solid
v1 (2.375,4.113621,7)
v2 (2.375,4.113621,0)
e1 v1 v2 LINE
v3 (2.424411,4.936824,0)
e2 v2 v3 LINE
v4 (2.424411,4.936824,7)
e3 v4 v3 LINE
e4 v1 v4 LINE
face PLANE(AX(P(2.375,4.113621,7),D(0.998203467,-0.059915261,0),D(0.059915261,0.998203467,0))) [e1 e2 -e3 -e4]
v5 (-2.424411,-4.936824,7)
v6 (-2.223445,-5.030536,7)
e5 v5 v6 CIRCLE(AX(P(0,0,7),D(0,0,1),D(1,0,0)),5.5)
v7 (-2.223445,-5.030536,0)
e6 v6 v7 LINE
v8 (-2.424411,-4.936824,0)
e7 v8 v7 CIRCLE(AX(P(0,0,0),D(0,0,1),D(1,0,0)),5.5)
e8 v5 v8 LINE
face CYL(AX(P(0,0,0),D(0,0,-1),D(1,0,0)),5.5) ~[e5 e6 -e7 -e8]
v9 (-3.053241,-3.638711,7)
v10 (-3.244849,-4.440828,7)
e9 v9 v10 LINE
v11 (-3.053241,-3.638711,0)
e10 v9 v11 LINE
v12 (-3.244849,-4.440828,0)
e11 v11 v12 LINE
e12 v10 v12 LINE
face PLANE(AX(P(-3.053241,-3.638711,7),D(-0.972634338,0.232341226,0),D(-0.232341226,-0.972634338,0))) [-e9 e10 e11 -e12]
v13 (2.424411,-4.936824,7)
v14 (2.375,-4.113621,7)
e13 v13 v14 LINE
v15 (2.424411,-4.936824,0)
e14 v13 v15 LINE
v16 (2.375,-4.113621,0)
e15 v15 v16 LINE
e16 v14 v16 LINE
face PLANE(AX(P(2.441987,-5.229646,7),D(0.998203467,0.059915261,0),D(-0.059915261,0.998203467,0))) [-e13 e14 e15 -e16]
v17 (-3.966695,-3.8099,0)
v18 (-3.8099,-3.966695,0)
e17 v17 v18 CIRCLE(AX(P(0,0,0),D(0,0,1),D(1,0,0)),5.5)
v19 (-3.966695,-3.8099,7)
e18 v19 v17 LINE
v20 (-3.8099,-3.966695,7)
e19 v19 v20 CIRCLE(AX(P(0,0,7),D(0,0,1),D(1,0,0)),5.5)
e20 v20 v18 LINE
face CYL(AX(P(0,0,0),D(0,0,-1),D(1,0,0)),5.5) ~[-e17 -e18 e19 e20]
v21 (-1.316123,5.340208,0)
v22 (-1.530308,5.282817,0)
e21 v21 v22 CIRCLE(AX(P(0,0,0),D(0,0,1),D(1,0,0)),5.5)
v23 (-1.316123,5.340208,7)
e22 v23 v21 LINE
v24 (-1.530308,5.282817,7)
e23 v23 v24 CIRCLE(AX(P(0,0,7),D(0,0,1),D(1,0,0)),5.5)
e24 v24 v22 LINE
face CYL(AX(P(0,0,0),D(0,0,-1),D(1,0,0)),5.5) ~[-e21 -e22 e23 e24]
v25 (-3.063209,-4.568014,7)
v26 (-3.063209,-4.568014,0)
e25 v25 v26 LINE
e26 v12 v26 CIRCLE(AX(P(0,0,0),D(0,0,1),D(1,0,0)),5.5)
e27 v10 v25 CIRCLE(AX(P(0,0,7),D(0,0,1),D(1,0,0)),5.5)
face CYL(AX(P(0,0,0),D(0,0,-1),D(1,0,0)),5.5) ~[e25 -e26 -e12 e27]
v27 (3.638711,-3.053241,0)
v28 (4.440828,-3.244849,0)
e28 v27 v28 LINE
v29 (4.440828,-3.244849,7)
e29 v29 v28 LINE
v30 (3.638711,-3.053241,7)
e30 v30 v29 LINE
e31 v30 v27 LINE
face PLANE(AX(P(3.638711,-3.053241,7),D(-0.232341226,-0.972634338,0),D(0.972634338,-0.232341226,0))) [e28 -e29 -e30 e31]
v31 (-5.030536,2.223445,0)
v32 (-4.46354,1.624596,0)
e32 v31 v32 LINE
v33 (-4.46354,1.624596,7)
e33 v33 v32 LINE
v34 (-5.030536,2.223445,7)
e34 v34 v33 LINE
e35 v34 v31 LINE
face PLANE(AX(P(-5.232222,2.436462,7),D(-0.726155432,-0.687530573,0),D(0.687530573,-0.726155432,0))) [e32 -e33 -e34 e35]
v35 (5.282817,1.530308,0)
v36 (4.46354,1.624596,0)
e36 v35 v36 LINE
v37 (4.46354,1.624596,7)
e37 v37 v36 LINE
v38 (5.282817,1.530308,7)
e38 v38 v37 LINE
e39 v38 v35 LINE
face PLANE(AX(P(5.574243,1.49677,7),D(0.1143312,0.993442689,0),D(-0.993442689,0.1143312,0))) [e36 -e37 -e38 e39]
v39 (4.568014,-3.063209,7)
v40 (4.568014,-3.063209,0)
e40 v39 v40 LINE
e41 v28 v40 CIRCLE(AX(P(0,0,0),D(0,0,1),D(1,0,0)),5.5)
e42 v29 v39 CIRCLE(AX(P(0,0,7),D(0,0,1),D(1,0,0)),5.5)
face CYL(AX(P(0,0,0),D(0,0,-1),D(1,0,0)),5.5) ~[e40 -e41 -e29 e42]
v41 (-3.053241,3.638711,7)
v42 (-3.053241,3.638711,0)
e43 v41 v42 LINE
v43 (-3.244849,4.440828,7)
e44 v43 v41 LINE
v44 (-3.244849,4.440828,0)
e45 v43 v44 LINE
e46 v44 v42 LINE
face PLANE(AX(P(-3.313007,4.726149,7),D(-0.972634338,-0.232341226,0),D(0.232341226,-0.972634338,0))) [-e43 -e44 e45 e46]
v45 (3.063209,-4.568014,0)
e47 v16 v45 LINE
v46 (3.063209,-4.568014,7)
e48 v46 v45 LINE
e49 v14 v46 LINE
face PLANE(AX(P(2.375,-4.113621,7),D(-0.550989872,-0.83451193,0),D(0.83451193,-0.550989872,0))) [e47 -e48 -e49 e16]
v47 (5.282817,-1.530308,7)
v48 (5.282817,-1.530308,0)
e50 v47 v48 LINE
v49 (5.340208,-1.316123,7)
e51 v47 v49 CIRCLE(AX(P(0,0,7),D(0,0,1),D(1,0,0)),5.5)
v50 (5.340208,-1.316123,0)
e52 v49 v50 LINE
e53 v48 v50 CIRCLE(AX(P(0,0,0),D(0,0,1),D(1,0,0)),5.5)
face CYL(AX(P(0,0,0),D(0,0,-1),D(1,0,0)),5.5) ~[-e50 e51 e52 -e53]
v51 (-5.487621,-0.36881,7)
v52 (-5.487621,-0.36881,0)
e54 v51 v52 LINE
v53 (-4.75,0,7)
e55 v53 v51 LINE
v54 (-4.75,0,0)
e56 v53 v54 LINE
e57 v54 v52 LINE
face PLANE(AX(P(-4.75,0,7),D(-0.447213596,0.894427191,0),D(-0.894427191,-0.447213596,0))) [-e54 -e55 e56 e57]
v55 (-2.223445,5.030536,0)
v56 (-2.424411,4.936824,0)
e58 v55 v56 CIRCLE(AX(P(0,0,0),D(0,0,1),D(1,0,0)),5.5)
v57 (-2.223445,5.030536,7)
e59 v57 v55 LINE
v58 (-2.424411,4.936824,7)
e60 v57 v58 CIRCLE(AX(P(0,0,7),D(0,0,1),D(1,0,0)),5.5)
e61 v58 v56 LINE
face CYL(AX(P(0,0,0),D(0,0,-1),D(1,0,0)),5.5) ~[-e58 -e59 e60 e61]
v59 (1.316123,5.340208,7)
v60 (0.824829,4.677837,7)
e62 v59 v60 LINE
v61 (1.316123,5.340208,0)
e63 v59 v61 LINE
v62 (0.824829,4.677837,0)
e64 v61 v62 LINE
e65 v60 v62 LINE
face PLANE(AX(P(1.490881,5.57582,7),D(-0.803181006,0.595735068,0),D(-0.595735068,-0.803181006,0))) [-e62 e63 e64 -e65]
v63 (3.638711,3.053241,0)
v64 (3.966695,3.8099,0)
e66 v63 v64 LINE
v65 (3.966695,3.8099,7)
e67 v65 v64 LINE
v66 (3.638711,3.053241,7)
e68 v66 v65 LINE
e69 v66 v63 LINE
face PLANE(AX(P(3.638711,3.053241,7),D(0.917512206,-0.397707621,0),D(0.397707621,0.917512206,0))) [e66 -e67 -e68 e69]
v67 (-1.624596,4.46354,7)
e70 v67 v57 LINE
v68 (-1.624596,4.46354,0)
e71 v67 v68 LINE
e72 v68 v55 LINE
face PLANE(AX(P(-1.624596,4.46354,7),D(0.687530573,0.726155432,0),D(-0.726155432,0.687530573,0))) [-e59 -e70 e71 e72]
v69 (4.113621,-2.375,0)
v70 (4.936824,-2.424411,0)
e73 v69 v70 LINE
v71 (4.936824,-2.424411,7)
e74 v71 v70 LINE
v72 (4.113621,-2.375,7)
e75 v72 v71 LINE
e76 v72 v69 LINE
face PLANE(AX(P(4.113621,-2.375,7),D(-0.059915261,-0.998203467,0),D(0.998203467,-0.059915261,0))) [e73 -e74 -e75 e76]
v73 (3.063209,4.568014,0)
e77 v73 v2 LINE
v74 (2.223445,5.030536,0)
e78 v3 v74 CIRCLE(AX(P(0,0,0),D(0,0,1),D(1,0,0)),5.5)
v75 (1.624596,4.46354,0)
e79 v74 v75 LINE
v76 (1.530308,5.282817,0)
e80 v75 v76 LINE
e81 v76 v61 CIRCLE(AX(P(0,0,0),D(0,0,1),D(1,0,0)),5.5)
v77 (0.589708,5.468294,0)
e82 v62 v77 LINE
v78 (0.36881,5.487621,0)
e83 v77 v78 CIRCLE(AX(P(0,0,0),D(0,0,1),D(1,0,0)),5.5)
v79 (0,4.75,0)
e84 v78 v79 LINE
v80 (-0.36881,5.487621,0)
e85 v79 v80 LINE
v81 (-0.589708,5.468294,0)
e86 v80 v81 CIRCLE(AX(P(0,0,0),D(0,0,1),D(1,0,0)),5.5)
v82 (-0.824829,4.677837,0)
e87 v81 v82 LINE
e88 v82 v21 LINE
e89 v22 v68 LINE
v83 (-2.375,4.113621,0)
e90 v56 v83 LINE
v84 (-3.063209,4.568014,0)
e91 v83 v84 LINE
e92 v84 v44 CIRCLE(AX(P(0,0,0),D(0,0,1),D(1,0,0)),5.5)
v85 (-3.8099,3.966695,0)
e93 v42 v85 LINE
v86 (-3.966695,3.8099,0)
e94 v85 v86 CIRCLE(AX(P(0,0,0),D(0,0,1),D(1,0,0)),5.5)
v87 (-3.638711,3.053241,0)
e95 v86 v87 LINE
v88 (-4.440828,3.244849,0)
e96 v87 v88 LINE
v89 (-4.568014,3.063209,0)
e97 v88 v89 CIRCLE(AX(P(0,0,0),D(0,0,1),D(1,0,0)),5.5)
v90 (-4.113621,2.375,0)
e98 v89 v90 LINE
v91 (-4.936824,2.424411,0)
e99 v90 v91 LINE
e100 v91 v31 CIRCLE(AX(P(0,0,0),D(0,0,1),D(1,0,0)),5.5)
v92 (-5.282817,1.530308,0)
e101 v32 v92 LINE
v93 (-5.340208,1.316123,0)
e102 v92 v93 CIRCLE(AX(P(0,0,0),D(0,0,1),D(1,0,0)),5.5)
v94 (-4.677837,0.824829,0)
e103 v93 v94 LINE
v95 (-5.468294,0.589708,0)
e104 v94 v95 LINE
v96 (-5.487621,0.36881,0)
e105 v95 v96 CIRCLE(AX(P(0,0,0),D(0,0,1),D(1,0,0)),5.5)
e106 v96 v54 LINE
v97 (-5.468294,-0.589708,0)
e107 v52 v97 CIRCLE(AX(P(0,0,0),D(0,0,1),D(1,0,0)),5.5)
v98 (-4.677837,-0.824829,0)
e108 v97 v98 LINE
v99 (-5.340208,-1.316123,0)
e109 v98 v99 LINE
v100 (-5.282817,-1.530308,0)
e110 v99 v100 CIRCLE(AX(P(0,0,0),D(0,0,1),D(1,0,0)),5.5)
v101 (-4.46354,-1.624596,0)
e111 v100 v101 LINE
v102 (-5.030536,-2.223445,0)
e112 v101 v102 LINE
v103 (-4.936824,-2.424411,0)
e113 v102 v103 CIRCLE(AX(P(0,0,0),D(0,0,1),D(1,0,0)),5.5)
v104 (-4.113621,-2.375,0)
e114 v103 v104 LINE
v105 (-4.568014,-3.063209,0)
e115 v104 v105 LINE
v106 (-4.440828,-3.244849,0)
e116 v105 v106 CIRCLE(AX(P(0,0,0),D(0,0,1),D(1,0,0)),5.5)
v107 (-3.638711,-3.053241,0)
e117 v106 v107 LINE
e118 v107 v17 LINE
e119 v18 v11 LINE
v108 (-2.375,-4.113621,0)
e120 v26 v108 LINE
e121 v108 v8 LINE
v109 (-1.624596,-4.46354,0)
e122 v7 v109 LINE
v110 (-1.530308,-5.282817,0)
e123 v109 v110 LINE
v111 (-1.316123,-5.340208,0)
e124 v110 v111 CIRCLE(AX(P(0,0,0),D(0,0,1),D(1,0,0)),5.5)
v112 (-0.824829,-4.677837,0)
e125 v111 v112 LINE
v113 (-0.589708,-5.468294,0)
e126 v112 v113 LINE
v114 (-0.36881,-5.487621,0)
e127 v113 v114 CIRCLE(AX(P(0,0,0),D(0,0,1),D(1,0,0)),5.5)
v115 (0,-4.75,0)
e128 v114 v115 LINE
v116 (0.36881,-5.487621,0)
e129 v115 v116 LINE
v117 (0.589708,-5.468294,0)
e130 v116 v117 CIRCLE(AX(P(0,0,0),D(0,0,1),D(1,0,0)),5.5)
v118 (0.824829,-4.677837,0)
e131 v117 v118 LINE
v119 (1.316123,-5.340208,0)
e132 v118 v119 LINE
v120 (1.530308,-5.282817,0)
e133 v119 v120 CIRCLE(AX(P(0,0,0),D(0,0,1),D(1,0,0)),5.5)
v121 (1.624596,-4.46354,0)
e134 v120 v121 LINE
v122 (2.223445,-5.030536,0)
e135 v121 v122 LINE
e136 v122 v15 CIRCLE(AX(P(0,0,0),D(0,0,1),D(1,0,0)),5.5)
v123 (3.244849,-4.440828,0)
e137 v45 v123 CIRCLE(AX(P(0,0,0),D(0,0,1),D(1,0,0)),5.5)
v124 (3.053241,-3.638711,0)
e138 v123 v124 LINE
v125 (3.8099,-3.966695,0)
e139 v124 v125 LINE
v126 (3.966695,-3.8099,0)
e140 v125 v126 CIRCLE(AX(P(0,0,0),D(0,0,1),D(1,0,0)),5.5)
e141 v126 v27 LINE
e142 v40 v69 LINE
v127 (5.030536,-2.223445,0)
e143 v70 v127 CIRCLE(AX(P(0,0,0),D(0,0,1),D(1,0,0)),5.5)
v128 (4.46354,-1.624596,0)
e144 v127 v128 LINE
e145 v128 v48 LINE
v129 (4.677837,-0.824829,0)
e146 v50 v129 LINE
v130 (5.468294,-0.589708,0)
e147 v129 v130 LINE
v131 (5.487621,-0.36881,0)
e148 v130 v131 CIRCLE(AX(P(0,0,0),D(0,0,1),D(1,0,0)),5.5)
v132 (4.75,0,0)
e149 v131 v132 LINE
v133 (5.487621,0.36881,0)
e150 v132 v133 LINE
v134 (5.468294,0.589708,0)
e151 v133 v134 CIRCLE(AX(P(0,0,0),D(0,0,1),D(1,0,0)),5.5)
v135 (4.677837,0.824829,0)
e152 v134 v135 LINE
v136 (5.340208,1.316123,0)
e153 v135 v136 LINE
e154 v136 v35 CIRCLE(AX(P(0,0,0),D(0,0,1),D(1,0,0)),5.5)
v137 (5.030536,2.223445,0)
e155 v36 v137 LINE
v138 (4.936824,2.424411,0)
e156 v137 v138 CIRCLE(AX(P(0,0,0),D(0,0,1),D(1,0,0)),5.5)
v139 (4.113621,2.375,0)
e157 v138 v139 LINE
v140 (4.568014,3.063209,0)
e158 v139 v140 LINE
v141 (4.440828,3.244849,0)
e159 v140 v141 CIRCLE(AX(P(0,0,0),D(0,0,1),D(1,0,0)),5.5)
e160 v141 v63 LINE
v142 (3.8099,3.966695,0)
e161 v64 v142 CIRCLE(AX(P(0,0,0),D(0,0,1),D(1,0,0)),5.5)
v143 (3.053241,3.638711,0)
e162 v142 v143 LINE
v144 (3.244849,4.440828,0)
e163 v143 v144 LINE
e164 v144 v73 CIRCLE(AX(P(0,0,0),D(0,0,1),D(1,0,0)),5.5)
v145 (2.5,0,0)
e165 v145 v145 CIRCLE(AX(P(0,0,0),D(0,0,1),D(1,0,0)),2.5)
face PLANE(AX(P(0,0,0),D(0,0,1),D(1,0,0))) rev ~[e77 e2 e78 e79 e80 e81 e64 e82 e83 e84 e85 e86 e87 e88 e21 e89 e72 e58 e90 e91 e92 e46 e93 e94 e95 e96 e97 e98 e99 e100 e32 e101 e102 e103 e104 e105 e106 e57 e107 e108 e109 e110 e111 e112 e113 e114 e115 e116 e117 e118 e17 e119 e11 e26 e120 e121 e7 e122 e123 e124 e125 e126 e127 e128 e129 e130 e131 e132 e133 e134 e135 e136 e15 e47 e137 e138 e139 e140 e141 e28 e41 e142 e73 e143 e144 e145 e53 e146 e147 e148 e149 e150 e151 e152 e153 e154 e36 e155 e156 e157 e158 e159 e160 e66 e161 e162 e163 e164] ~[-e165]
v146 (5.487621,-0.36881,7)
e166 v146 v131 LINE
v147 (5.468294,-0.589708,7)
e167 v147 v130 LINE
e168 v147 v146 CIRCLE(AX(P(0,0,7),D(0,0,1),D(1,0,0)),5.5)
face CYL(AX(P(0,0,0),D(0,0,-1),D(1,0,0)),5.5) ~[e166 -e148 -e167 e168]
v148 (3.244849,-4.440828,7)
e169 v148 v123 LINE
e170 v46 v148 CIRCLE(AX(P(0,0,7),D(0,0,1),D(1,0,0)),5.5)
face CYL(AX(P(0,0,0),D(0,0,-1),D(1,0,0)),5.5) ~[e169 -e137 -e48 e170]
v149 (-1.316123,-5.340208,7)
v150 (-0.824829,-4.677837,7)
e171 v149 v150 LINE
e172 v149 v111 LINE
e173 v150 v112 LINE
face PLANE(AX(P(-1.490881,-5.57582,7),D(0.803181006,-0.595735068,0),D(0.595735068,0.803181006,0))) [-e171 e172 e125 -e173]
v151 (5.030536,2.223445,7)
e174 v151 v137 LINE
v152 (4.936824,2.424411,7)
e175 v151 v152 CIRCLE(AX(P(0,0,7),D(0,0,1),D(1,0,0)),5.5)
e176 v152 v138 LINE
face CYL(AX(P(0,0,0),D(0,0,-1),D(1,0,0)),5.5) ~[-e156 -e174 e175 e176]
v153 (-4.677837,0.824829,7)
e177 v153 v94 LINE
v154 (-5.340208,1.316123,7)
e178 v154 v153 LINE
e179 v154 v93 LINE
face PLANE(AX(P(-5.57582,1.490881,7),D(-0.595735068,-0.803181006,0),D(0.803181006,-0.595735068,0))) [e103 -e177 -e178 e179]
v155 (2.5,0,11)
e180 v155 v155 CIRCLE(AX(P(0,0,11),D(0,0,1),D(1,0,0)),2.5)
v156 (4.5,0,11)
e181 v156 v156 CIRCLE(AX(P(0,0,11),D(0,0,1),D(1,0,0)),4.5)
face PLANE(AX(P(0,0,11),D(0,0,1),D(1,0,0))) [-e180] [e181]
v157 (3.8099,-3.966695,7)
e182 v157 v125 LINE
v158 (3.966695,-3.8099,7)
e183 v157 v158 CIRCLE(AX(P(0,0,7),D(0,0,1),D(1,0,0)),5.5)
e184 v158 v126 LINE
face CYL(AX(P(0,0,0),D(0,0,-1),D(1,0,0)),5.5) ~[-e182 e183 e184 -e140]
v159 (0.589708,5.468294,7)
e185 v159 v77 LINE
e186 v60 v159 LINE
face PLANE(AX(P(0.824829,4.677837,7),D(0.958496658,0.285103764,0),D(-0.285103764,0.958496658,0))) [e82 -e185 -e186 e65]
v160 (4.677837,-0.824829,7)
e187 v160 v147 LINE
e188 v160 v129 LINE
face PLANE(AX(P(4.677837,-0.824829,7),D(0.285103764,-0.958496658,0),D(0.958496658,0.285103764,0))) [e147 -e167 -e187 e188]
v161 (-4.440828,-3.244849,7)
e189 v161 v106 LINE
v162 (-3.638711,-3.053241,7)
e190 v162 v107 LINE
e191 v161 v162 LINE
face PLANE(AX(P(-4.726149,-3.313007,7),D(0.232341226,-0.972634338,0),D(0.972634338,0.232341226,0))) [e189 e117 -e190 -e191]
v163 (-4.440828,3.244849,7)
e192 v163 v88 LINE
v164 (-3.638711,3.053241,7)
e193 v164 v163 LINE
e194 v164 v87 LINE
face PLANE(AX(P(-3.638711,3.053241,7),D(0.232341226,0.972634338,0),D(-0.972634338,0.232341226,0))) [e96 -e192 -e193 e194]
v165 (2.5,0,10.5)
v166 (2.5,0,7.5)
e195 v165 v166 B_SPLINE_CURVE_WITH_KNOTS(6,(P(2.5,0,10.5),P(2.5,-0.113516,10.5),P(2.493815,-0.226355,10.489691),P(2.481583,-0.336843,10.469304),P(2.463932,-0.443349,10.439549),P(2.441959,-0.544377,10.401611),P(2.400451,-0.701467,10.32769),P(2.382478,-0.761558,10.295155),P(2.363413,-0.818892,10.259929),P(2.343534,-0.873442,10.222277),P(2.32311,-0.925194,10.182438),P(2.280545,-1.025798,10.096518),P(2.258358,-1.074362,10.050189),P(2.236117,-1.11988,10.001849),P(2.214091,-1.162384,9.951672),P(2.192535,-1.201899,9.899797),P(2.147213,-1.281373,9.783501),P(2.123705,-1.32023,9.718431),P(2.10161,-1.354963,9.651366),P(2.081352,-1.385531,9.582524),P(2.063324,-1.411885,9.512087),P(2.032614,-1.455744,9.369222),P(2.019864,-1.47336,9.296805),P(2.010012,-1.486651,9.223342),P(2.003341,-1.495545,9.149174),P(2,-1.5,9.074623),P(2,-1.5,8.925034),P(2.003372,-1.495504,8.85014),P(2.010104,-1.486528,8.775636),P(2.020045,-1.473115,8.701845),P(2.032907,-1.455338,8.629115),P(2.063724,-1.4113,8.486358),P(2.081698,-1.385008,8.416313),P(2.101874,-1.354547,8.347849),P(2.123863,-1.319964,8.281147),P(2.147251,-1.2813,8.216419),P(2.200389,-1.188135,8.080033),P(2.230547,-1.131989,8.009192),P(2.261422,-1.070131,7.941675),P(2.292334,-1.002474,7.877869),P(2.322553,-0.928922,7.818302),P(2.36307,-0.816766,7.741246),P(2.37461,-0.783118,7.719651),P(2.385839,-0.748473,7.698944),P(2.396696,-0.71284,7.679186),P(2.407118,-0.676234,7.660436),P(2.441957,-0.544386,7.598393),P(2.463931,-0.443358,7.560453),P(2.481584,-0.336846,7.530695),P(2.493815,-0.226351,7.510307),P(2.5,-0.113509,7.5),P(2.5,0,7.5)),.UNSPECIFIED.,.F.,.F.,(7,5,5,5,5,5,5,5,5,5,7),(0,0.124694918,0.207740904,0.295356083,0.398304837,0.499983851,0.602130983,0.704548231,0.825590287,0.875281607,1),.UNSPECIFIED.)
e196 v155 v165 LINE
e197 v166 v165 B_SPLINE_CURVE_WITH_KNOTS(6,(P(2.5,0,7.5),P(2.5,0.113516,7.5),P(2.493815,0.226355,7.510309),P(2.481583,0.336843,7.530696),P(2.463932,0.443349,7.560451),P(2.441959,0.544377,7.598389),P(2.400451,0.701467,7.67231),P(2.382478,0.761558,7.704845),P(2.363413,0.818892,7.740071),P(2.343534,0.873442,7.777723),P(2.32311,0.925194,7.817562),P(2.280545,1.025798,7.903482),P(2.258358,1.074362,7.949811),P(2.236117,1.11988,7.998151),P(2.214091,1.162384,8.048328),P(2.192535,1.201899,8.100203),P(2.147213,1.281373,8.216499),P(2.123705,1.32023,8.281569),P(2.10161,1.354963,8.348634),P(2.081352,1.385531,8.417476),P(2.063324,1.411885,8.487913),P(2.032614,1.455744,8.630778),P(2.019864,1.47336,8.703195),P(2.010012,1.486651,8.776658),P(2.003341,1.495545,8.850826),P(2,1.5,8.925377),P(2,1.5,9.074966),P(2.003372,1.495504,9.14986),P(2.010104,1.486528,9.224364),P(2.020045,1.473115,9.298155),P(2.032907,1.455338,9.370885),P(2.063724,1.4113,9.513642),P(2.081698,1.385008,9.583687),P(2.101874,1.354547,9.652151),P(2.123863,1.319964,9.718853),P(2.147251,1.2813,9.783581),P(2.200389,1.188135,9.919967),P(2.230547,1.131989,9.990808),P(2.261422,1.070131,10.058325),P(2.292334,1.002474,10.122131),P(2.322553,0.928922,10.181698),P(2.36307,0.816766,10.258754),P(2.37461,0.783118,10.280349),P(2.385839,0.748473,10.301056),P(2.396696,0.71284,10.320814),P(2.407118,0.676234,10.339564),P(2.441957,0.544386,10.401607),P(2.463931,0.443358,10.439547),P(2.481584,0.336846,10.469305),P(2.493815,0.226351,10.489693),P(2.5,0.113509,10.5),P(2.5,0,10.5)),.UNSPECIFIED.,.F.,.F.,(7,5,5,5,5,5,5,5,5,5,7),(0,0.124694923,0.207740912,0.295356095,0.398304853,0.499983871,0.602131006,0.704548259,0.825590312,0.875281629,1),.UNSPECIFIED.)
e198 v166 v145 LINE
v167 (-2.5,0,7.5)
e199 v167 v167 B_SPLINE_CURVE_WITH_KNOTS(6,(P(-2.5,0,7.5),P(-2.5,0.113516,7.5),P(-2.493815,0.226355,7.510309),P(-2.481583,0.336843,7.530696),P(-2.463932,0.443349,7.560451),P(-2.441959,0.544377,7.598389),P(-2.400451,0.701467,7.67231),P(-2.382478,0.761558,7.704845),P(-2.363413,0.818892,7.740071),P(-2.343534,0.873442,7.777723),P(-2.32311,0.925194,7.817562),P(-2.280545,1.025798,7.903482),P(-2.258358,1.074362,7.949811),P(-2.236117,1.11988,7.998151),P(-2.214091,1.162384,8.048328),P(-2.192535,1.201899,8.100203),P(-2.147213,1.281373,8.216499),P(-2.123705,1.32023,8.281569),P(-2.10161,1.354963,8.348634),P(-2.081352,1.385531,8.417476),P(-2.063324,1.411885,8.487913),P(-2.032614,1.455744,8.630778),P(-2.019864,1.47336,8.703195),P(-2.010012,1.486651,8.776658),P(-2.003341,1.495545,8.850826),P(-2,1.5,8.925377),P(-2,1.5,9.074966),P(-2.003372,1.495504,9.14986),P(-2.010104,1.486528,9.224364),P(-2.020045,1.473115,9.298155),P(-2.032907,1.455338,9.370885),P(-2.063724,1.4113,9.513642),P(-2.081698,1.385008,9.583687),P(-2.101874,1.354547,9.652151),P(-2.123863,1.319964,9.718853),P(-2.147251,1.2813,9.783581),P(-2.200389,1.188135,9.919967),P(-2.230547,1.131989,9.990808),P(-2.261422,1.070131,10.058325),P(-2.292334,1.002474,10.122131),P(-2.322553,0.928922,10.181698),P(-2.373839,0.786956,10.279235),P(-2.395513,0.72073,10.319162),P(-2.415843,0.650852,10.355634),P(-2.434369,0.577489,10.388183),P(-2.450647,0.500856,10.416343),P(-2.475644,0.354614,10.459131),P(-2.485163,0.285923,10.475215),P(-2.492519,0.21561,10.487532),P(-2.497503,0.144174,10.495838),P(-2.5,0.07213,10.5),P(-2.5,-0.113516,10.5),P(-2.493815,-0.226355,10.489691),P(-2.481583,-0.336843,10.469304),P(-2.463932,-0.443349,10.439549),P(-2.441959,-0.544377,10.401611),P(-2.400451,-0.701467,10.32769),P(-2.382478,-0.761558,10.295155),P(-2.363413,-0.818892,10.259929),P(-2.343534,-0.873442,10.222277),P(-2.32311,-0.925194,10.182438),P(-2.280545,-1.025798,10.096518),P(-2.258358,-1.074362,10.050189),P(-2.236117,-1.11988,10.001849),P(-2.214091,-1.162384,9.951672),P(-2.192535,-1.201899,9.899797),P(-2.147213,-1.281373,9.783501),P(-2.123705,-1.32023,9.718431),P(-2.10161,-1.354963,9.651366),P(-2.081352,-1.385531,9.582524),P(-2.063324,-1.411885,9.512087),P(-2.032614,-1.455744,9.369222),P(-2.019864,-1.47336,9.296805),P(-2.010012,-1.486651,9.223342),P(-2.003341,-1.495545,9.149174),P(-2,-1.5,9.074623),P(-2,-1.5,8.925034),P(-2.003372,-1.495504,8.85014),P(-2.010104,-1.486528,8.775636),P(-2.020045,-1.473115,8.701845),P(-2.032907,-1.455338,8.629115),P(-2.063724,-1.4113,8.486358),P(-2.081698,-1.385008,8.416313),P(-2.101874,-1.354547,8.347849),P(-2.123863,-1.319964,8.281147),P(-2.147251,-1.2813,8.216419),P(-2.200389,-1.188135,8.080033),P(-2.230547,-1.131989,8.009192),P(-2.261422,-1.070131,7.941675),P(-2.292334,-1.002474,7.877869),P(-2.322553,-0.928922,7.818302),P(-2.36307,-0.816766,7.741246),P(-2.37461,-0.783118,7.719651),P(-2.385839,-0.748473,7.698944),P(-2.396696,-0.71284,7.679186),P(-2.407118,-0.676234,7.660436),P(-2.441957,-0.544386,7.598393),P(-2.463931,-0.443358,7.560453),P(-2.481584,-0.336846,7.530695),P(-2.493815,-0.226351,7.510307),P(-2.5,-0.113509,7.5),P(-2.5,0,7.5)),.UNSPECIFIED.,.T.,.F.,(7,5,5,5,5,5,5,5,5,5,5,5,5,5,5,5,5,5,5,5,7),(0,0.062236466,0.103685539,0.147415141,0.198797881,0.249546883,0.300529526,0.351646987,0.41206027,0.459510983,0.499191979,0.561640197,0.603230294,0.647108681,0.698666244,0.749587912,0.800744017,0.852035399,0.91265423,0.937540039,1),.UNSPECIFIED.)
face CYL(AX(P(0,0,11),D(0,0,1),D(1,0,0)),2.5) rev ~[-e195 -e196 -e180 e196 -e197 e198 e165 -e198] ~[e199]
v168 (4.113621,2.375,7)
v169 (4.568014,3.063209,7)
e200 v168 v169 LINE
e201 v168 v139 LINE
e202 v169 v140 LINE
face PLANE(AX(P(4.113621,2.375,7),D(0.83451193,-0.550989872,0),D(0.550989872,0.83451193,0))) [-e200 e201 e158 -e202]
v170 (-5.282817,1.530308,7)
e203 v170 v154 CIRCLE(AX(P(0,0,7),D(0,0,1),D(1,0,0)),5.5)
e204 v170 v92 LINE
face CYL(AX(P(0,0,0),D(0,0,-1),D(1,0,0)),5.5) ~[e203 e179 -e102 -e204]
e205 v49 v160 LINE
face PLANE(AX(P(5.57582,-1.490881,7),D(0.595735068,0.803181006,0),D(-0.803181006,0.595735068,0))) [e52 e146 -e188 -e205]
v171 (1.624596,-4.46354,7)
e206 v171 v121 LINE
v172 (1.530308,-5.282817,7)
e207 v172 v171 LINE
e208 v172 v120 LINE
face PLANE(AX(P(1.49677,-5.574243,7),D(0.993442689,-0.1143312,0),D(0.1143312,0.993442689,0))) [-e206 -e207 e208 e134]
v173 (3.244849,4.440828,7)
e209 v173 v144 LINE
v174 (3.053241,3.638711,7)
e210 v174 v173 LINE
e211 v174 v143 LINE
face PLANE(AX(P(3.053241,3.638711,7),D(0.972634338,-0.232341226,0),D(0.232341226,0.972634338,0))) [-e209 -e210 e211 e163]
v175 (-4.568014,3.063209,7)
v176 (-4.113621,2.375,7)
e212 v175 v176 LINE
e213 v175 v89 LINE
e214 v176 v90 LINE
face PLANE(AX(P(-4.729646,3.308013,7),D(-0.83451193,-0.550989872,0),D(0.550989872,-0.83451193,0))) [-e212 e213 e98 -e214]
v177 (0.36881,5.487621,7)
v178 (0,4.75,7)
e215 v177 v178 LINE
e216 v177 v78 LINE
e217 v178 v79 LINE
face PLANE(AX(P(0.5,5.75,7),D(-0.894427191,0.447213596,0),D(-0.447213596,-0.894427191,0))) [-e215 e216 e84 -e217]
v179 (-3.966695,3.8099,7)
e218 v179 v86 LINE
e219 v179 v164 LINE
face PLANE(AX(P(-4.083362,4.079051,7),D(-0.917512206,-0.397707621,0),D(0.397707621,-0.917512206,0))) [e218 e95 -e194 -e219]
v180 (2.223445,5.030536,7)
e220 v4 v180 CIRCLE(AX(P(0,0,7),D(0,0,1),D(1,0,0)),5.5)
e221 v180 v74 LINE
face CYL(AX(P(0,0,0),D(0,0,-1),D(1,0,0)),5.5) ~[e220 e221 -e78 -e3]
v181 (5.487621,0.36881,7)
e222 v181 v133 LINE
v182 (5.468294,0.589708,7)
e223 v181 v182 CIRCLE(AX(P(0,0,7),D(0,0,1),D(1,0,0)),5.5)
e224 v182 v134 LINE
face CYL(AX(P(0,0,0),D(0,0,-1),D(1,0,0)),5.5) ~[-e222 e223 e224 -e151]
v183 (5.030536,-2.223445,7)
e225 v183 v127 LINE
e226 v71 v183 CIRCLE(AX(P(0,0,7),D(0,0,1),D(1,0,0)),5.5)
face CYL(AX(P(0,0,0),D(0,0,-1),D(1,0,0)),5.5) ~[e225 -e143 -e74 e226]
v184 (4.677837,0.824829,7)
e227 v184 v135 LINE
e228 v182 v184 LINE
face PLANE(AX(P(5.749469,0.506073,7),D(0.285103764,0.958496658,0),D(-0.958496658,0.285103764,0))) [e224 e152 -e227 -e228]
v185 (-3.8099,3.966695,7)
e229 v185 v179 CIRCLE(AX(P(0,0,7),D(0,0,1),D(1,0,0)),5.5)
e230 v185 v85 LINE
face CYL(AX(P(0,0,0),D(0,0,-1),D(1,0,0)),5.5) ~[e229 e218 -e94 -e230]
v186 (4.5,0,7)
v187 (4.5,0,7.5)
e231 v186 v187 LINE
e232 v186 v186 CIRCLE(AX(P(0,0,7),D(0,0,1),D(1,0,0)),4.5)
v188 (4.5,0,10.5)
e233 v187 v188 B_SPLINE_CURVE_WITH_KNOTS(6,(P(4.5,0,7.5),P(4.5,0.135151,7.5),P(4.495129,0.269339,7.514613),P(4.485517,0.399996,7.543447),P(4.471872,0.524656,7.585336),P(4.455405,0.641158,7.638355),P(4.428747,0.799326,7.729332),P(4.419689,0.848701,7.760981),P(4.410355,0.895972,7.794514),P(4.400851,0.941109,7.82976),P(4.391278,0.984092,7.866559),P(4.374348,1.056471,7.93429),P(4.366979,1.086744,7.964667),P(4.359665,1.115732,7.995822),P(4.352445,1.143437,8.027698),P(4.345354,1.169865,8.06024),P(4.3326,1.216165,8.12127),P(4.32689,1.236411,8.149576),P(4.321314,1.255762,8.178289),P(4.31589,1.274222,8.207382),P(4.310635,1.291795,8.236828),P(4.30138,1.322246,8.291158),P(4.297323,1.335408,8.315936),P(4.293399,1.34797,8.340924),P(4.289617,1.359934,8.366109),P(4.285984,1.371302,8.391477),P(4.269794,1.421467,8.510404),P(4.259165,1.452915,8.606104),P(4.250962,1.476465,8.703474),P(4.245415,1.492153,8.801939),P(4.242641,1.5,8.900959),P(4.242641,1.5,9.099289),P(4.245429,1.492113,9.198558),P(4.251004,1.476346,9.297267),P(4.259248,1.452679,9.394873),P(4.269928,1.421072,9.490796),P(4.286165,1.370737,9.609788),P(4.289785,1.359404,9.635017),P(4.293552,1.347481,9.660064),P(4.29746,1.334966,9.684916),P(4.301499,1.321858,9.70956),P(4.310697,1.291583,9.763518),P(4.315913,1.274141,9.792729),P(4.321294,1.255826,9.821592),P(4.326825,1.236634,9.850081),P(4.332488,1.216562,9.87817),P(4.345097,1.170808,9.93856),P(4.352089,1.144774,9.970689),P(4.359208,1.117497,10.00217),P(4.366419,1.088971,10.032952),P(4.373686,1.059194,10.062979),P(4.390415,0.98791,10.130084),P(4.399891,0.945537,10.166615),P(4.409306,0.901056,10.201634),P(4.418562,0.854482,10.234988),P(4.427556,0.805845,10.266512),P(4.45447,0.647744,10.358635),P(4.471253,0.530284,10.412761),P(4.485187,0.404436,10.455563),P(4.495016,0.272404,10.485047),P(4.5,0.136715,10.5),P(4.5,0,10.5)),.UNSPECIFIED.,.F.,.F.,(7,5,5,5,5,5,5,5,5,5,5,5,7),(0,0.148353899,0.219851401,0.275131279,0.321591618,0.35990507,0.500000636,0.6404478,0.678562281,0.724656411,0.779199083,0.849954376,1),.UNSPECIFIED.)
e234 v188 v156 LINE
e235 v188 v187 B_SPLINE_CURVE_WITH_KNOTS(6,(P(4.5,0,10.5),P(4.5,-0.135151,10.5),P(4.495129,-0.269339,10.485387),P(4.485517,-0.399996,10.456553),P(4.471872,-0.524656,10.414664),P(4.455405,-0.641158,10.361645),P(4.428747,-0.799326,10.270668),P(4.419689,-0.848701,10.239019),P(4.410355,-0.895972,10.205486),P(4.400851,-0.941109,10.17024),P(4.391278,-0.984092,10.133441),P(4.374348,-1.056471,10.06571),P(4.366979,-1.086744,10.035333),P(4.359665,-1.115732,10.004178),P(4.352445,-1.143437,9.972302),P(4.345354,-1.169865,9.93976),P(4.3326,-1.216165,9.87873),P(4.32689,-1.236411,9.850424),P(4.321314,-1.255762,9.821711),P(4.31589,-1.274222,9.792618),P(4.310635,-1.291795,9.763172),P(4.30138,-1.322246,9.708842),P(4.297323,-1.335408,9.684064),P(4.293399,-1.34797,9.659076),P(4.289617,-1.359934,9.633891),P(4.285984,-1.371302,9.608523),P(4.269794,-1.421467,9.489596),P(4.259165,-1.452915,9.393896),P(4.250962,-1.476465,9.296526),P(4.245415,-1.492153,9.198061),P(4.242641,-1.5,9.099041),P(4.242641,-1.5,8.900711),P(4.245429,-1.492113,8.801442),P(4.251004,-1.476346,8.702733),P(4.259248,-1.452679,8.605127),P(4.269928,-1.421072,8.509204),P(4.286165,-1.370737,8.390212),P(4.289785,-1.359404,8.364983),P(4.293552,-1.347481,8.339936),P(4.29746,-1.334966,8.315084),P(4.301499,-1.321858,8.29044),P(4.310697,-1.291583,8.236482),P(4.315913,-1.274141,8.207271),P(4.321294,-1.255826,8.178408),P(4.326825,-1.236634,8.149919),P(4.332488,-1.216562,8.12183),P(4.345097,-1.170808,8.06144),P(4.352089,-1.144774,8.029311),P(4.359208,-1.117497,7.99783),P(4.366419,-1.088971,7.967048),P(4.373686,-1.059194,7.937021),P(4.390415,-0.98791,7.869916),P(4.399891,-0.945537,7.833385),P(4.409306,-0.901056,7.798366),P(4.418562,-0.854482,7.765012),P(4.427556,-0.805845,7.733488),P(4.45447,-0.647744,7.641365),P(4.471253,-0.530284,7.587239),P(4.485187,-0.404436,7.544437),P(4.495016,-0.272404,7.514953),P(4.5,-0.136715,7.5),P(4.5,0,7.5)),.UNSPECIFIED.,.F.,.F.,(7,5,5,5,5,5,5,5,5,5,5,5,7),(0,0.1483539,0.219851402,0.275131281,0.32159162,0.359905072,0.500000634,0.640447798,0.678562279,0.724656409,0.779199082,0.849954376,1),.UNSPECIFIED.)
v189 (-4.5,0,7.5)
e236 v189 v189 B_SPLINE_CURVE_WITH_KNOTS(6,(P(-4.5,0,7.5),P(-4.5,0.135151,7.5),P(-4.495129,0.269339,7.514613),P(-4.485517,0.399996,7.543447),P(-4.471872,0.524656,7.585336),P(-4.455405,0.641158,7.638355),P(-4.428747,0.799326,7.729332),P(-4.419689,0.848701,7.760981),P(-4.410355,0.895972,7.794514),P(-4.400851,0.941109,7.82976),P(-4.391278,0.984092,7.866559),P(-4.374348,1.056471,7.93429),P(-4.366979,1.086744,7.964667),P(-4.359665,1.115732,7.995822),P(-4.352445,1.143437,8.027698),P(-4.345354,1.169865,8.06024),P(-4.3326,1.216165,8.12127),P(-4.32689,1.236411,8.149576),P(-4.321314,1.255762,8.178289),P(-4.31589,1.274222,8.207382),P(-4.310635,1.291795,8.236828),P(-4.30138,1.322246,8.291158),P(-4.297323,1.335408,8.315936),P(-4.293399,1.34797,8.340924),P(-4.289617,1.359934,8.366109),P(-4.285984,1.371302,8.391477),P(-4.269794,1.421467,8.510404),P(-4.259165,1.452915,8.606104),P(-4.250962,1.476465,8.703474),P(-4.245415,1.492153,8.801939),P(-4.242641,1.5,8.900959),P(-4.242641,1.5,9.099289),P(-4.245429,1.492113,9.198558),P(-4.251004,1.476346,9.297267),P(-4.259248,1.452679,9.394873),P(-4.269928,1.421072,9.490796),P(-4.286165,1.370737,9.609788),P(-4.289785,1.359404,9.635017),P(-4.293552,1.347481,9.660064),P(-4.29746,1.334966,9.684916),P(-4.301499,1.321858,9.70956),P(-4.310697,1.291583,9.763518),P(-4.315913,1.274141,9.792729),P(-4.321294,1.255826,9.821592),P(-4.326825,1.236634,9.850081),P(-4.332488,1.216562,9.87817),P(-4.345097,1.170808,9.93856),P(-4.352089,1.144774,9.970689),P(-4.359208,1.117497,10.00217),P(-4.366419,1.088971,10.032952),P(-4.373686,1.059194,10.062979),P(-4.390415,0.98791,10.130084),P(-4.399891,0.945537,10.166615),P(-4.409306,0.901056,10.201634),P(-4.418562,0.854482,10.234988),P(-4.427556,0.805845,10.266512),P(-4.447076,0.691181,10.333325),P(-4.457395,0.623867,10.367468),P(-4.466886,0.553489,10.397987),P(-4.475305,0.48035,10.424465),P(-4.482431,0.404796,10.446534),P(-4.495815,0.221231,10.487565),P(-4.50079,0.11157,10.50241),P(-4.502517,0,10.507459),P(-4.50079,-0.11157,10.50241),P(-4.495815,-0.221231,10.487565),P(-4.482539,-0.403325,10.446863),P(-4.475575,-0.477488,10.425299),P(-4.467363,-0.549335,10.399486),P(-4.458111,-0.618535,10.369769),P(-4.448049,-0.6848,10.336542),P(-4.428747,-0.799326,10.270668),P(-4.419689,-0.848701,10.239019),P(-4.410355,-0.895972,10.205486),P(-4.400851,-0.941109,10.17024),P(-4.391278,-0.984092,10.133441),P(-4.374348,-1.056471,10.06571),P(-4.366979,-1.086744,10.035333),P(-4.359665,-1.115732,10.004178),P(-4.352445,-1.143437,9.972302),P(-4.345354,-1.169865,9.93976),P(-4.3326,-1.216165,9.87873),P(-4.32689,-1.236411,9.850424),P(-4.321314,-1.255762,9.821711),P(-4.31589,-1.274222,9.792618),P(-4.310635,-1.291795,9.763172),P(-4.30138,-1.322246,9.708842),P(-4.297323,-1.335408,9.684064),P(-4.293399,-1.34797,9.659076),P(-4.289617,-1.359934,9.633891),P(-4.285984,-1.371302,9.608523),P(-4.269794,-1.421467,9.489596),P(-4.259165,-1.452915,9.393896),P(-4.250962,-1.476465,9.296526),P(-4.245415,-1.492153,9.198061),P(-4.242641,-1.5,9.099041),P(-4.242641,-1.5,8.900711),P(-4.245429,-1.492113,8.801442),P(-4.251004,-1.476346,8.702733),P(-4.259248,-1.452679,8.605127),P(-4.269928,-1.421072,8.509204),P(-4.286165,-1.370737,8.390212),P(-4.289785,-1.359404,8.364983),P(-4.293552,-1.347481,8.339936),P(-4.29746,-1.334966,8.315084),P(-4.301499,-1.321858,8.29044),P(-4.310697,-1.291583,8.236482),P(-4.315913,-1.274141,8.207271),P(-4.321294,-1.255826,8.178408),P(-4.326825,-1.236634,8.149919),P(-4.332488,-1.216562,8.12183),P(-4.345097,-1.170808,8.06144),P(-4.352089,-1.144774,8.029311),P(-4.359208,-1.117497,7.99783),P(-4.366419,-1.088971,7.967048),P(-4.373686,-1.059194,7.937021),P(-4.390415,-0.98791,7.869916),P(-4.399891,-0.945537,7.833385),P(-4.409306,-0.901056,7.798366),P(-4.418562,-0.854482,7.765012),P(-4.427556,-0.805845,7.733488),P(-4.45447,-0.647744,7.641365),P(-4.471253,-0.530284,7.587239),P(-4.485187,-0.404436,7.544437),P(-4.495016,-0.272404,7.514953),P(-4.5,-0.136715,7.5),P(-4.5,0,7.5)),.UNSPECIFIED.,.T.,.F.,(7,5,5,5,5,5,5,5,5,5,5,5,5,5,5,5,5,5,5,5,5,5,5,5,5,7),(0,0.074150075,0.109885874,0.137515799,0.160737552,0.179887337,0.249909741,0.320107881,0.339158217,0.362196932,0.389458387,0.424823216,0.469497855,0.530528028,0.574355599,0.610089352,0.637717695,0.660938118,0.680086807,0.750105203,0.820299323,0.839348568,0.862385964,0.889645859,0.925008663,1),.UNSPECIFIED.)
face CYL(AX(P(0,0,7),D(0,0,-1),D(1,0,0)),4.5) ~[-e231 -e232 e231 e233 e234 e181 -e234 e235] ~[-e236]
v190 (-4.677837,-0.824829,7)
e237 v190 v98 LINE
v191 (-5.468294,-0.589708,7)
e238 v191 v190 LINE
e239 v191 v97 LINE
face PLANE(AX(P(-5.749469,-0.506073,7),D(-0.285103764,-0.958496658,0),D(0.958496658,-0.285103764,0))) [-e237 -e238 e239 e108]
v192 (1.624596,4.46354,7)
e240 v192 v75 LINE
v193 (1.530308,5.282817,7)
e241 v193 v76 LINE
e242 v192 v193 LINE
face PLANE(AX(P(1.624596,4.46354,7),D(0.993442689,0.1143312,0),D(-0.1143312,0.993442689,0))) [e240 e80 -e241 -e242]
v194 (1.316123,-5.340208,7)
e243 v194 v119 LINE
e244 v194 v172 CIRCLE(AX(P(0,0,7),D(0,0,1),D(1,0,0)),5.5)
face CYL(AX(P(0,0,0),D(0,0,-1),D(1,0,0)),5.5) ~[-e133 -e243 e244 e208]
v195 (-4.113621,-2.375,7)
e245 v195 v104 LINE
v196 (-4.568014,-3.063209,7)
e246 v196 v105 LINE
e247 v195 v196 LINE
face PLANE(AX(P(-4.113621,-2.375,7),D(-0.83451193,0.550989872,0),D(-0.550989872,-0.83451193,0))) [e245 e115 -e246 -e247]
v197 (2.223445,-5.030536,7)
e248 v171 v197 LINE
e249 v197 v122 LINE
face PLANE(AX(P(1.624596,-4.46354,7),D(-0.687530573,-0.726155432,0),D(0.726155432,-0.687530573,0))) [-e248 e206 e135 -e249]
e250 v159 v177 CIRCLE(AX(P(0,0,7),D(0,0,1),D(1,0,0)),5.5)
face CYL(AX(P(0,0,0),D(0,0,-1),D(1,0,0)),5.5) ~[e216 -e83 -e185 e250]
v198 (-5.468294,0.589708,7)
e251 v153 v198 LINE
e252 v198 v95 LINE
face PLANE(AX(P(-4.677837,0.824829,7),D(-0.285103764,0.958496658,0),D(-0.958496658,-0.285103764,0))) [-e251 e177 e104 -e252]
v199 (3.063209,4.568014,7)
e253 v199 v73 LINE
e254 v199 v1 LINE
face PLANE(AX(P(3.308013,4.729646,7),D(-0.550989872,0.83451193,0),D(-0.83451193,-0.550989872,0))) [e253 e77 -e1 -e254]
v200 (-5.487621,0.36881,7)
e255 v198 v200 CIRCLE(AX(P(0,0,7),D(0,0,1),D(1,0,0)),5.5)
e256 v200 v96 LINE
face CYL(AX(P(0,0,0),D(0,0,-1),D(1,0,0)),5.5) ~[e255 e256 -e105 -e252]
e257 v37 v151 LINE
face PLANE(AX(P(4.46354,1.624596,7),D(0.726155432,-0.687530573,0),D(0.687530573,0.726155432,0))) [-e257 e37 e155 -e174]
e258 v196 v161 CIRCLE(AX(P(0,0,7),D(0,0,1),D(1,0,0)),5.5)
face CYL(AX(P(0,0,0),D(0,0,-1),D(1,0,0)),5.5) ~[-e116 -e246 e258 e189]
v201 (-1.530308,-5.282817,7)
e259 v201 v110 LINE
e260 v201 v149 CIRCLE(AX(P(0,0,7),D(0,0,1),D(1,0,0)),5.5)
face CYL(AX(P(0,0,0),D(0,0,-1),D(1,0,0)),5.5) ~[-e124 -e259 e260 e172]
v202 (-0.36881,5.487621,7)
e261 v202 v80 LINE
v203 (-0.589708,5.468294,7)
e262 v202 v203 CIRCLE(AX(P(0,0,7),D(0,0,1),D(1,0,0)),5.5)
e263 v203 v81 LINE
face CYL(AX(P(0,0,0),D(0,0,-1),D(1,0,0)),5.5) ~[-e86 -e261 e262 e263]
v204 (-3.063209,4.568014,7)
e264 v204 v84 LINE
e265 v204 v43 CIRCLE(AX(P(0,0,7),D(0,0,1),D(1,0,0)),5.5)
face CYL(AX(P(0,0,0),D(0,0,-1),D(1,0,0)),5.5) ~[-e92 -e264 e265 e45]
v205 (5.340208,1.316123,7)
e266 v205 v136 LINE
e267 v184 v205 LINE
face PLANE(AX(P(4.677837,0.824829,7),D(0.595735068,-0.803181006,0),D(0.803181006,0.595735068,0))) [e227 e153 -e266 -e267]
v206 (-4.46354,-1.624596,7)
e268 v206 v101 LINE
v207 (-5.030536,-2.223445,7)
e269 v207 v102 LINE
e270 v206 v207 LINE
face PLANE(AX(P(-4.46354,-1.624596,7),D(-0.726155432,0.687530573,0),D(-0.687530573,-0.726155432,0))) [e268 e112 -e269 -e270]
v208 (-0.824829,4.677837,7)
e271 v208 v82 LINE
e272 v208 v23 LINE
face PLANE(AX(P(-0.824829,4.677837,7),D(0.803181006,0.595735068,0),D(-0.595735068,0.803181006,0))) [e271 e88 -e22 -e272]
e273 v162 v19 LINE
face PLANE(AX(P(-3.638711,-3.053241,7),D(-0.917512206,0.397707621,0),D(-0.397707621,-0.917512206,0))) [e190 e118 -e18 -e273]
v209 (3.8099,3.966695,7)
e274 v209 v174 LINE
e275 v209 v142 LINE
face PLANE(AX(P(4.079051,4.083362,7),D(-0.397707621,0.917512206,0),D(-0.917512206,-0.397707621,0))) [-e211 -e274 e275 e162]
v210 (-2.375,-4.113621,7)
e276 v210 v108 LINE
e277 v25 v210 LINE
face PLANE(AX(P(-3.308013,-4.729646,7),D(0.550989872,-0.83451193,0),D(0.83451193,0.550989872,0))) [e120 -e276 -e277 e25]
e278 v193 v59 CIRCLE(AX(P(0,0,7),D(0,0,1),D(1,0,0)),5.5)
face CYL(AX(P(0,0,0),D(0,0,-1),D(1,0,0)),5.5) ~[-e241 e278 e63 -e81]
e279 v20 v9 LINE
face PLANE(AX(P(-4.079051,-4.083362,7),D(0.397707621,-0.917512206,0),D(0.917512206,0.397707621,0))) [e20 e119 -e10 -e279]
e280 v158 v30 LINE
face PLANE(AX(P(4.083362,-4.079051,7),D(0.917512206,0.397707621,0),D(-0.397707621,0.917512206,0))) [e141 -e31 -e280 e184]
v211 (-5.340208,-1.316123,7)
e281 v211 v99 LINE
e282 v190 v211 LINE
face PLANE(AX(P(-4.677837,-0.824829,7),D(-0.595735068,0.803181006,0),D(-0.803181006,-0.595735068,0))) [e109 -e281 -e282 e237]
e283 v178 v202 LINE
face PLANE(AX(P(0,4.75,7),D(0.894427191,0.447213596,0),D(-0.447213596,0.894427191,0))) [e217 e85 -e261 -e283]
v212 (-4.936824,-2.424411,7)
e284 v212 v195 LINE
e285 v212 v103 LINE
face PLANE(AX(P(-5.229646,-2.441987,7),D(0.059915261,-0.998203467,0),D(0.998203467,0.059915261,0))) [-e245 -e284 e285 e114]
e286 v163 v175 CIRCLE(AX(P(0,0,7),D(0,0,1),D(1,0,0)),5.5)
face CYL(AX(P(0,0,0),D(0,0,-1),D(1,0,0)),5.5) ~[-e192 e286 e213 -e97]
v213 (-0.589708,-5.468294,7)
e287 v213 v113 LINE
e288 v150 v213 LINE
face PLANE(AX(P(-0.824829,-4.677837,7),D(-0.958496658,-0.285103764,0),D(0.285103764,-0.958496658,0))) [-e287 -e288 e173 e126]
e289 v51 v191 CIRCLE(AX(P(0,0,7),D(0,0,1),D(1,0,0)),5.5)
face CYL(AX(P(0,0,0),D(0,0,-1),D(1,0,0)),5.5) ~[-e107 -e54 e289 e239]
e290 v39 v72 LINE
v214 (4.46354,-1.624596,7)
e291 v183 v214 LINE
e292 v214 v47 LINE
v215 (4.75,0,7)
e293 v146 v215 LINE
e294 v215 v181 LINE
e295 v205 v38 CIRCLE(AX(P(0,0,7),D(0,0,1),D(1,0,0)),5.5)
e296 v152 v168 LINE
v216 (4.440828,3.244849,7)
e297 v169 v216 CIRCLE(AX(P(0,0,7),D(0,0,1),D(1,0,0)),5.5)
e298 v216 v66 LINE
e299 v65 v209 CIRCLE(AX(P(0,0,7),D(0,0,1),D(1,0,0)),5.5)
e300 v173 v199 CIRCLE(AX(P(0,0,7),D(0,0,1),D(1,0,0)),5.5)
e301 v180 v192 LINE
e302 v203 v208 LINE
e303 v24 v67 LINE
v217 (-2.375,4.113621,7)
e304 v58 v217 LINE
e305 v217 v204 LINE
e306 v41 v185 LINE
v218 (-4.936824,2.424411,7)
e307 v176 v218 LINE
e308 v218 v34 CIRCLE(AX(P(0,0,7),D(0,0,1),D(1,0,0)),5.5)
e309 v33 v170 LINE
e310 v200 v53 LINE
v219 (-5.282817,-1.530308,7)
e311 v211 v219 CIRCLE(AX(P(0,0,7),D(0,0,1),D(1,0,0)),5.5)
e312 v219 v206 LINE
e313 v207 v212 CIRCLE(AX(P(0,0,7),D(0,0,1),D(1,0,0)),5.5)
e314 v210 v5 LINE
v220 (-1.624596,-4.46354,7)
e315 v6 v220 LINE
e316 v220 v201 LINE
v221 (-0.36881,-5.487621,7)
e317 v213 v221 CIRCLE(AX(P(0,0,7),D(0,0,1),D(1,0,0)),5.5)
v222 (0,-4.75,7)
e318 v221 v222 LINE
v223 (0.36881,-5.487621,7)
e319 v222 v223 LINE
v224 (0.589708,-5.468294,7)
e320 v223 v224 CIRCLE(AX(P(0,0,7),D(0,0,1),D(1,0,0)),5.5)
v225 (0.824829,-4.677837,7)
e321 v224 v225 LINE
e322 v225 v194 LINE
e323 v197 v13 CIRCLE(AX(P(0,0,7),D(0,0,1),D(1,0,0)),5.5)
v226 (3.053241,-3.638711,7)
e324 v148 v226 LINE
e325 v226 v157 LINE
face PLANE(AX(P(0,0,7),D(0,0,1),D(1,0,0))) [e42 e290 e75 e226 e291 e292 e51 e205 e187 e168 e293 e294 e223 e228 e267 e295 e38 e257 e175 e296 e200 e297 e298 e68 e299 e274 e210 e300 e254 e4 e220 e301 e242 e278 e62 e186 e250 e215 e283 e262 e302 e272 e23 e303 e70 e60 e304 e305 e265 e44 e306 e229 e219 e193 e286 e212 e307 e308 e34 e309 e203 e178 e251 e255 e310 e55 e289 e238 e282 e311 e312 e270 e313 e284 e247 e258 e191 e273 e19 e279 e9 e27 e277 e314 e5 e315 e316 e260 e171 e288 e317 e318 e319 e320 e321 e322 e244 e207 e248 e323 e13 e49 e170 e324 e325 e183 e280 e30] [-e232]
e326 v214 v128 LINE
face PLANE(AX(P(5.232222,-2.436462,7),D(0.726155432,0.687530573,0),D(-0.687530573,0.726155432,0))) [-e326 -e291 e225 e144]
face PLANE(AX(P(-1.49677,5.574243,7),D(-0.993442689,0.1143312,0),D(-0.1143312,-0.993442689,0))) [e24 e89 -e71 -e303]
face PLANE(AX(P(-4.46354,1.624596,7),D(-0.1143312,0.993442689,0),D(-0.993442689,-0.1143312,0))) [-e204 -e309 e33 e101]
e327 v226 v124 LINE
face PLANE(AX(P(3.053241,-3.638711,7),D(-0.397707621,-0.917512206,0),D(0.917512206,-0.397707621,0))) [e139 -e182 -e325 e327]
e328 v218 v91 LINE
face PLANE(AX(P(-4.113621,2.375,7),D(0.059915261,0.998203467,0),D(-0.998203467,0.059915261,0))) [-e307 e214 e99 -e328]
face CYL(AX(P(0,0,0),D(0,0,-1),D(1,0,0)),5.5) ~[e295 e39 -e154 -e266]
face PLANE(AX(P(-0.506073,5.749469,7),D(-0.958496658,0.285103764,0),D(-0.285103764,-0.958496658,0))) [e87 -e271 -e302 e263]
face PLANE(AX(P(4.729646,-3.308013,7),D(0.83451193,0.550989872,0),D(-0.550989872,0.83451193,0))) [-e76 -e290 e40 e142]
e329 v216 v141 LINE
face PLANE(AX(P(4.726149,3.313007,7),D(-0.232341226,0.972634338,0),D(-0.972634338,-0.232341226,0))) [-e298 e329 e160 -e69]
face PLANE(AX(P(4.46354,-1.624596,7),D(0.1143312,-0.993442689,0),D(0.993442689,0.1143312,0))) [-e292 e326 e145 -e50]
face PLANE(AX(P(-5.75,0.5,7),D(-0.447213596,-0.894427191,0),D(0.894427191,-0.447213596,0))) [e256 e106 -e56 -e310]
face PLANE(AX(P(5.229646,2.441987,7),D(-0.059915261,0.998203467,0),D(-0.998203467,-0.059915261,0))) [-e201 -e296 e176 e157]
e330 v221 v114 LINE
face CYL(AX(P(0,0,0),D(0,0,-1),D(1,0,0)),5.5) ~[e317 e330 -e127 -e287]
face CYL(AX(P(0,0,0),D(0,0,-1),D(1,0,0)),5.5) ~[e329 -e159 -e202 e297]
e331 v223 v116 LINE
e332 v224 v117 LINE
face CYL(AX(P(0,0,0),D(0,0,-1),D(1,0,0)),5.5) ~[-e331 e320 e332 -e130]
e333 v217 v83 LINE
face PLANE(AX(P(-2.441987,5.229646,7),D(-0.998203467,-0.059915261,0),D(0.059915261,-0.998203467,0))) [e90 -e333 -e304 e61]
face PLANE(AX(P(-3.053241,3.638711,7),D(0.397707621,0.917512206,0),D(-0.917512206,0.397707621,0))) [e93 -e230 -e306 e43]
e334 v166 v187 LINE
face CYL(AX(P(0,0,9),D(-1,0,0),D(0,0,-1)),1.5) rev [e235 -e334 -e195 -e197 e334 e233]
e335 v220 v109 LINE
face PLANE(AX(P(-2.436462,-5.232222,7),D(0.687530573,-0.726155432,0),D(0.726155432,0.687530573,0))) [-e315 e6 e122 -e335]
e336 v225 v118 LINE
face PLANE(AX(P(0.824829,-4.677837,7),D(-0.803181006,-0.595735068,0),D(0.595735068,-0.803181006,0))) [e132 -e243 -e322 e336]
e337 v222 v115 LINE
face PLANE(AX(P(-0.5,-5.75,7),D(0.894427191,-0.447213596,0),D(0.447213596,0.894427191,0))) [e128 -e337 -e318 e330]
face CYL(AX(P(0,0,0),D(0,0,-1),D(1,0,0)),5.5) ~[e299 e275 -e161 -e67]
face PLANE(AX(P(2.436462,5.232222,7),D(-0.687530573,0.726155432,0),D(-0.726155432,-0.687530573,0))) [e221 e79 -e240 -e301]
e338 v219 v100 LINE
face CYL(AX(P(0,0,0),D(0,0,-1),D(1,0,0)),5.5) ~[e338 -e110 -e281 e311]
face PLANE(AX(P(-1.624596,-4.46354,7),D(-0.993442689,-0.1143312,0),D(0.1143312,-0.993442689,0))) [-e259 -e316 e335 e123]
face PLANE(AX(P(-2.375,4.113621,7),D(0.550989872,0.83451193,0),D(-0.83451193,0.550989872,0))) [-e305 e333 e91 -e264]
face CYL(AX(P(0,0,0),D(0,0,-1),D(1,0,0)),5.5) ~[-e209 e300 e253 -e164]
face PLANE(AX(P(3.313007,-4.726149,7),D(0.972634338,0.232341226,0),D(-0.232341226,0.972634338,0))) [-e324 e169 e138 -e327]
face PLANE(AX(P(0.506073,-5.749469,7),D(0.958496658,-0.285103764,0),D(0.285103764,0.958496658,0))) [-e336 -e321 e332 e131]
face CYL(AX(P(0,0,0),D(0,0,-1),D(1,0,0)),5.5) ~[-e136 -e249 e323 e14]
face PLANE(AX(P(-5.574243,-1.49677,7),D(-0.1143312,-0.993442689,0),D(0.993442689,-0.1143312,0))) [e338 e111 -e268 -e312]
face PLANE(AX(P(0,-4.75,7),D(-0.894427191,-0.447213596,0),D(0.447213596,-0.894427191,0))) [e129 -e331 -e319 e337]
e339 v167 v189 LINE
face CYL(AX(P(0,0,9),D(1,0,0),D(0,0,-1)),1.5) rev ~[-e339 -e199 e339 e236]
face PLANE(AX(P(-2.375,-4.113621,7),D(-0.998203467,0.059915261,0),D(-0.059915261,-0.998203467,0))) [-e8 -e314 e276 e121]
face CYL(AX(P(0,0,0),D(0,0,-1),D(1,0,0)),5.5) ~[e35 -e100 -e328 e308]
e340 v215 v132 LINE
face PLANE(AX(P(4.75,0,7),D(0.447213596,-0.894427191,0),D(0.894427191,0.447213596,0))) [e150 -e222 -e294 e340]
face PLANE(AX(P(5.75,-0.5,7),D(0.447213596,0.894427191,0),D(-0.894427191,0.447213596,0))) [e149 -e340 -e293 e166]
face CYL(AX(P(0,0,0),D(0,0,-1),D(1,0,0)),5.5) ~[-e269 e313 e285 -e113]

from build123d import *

# Parameters (mm, degrees)
SKETCH1_R               = 5.5
BOSS_EXTRUDE1_DEPTH     = 7
CUT_EXTRUDE3_DEPTH      = 7
SKETCH3_R               = 4.5
BOSS_EXTRUDE2_DEPTH     = 4
SKETCH4_R               = 1.5
CUT_EXTRUDE4_DEPTH      = 6
CUT_EXTRUDE4_DEPTH_BACK = 6
SKETCH5_R               = 2.5
CUT_EXTRUDE5_DEPTH      = 12


with BuildPart() as part:
    # Sketch1 → Boss-Extrude1 (new body)
    with BuildSketch(Plane.XY):
        Circle(SKETCH1_R)
    extrude(amount=BOSS_EXTRUDE1_DEPTH)

    # Sketch2 → Cut-Extrude3 (cut)
    with BuildSketch(Plane.XY.offset(7)):
        Polygon((0, 4.75), (-0.5, 5.75), (0.5, 5.75), align=None)
        Polygon((0.824828844, 4.677836827), (0.506073145, 5.749468669), (1.490880898, 5.575820491), align=None)
        Polygon((1.624595681, 4.463539949), (1.496769514, 5.574242641), (2.436462135, 5.232222498), align=None)
        Polygon((2.375, 4.113620668), (2.441987298, 5.229646072), (3.308012702, 4.729646072), align=None)
        Polygon((3.053241146, 3.638711105), (3.313006534, 4.726149353), (4.079050977, 4.083361743), align=None)
        Polygon((3.638711105, 3.053241146), (4.083361743, 4.079050977), (4.726149353, 3.313006534), align=None)
        Polygon((4.113620668, 2.375), (4.729646072, 3.308012702), (5.229646072, 2.441987298), align=None)
        Polygon((4.463539949, 1.624595681), (5.232222498, 2.436462135), (5.574242641, 1.496769514), align=None)
        Polygon((4.677836827, 0.824828844), (5.575820491, 1.490880898), (5.749468669, 0.506073145), align=None)
        Polygon((4.75, 0), (5.75, 0.5), (5.75, -0.5), align=None)
        Polygon((4.677836827, -0.824828844), (5.749468669, -0.506073145), (5.575820491, -1.490880898), align=None)
        Polygon((4.463539949, -1.624595681), (5.574242641, -1.496769514), (5.232222498, -2.436462135), align=None)
        Polygon((4.113620668, -2.375), (5.229646072, -2.441987298), (4.729646072, -3.308012702), align=None)
        Polygon((3.638711105, -3.053241146), (4.726149353, -3.313006534), (4.083361743, -4.079050977), align=None)
        Polygon((3.053241146, -3.638711105), (4.079050977, -4.083361743), (3.313006534, -4.726149353), align=None)
        Polygon((2.375, -4.113620668), (3.308012702, -4.729646072), (2.441987298, -5.229646072), align=None)
        Polygon((1.624595681, -4.463539949), (2.436462135, -5.232222498), (1.496769514, -5.574242641), align=None)
        Polygon((0.824828844, -4.677836827), (1.490880898, -5.575820491), (0.506073145, -5.749468669), align=None)
        Polygon((0, -4.75), (0.5, -5.75), (-0.5, -5.75), align=None)
        Polygon((-0.824828844, -4.677836827), (-0.506073145, -5.749468669), (-1.490880898, -5.575820491), align=None)
        Polygon((-1.624595681, -4.463539949), (-1.496769514, -5.574242641), (-2.436462135, -5.232222498), align=None)
        Polygon((-2.375, -4.113620668), (-2.441987298, -5.229646072), (-3.308012702, -4.729646072), align=None)
        Polygon((-3.053241146, -3.638711105), (-3.313006534, -4.726149353), (-4.079050977, -4.083361743), align=None)
        Polygon((-3.638711105, -3.053241146), (-4.083361743, -4.079050977), (-4.726149353, -3.313006534), align=None)
        Polygon((-4.113620668, -2.375), (-4.729646072, -3.308012702), (-5.229646072, -2.441987298), align=None)
        Polygon((-4.463539949, -1.624595681), (-5.232222498, -2.436462135), (-5.574242641, -1.496769514), align=None)
        Polygon((-4.677836827, -0.824828844), (-5.575820491, -1.490880898), (-5.749468669, -0.506073145), align=None)
        Polygon((-4.75, 0), (-5.75, -0.5), (-5.75, 0.5), align=None)
        Polygon((-4.677836827, 0.824828844), (-5.749468669, 0.506073145), (-5.575820491, 1.490880898), align=None)
        Polygon((-4.463539949, 1.624595681), (-5.574242641, 1.496769514), (-5.232222498, 2.436462135), align=None)
        Polygon((-4.113620668, 2.375), (-5.229646072, 2.441987298), (-4.729646072, 3.308012702), align=None)
        Polygon((-3.638711105, 3.053241146), (-4.726149353, 3.313006534), (-4.083361743, 4.079050977), align=None)
        Polygon((-3.053241146, 3.638711105), (-4.079050977, 4.083361743), (-3.313006534, 4.726149353), align=None)
        Polygon((-2.375, 4.113620668), (-3.308012702, 4.729646072), (-2.441987298, 5.229646072), align=None)
        Polygon((-1.624595681, 4.463539949), (-2.436462135, 5.232222498), (-1.496769514, 5.574242641), align=None)
        Polygon((-0.824828844, 4.677836827), (-1.490880898, 5.575820491), (-0.506073145, 5.749468669), align=None)
    extrude(amount=-CUT_EXTRUDE3_DEPTH, mode=Mode.SUBTRACT)

    # Sketch3 → Boss-Extrude2 (add)
    with BuildSketch(Plane.XY.offset(7)):
        Circle(SKETCH3_R)
    extrude(amount=BOSS_EXTRUDE2_DEPTH)

    # Sketch4 → Cut-Extrude4 (cut, two sides)
    with BuildSketch(Plane(origin=(0, 0, 0), x_dir=(0, 0, -1), z_dir=(1, 0, 0))) as cut_extrude4_sk:
        with Locations((-9, 0)):
            Circle(SKETCH4_R)
    extrude(amount=CUT_EXTRUDE4_DEPTH, mode=Mode.SUBTRACT)
    extrude(cut_extrude4_sk.sketch, amount=-CUT_EXTRUDE4_DEPTH_BACK, mode=Mode.SUBTRACT)

    # Sketch5 → Cut-Extrude5 (cut)
    with BuildSketch(Plane.XY.offset(11)):
        Circle(SKETCH5_R)
    extrude(amount=-CUT_EXTRUDE5_DEPTH, mode=Mode.SUBTRACT)


solid = part.part
